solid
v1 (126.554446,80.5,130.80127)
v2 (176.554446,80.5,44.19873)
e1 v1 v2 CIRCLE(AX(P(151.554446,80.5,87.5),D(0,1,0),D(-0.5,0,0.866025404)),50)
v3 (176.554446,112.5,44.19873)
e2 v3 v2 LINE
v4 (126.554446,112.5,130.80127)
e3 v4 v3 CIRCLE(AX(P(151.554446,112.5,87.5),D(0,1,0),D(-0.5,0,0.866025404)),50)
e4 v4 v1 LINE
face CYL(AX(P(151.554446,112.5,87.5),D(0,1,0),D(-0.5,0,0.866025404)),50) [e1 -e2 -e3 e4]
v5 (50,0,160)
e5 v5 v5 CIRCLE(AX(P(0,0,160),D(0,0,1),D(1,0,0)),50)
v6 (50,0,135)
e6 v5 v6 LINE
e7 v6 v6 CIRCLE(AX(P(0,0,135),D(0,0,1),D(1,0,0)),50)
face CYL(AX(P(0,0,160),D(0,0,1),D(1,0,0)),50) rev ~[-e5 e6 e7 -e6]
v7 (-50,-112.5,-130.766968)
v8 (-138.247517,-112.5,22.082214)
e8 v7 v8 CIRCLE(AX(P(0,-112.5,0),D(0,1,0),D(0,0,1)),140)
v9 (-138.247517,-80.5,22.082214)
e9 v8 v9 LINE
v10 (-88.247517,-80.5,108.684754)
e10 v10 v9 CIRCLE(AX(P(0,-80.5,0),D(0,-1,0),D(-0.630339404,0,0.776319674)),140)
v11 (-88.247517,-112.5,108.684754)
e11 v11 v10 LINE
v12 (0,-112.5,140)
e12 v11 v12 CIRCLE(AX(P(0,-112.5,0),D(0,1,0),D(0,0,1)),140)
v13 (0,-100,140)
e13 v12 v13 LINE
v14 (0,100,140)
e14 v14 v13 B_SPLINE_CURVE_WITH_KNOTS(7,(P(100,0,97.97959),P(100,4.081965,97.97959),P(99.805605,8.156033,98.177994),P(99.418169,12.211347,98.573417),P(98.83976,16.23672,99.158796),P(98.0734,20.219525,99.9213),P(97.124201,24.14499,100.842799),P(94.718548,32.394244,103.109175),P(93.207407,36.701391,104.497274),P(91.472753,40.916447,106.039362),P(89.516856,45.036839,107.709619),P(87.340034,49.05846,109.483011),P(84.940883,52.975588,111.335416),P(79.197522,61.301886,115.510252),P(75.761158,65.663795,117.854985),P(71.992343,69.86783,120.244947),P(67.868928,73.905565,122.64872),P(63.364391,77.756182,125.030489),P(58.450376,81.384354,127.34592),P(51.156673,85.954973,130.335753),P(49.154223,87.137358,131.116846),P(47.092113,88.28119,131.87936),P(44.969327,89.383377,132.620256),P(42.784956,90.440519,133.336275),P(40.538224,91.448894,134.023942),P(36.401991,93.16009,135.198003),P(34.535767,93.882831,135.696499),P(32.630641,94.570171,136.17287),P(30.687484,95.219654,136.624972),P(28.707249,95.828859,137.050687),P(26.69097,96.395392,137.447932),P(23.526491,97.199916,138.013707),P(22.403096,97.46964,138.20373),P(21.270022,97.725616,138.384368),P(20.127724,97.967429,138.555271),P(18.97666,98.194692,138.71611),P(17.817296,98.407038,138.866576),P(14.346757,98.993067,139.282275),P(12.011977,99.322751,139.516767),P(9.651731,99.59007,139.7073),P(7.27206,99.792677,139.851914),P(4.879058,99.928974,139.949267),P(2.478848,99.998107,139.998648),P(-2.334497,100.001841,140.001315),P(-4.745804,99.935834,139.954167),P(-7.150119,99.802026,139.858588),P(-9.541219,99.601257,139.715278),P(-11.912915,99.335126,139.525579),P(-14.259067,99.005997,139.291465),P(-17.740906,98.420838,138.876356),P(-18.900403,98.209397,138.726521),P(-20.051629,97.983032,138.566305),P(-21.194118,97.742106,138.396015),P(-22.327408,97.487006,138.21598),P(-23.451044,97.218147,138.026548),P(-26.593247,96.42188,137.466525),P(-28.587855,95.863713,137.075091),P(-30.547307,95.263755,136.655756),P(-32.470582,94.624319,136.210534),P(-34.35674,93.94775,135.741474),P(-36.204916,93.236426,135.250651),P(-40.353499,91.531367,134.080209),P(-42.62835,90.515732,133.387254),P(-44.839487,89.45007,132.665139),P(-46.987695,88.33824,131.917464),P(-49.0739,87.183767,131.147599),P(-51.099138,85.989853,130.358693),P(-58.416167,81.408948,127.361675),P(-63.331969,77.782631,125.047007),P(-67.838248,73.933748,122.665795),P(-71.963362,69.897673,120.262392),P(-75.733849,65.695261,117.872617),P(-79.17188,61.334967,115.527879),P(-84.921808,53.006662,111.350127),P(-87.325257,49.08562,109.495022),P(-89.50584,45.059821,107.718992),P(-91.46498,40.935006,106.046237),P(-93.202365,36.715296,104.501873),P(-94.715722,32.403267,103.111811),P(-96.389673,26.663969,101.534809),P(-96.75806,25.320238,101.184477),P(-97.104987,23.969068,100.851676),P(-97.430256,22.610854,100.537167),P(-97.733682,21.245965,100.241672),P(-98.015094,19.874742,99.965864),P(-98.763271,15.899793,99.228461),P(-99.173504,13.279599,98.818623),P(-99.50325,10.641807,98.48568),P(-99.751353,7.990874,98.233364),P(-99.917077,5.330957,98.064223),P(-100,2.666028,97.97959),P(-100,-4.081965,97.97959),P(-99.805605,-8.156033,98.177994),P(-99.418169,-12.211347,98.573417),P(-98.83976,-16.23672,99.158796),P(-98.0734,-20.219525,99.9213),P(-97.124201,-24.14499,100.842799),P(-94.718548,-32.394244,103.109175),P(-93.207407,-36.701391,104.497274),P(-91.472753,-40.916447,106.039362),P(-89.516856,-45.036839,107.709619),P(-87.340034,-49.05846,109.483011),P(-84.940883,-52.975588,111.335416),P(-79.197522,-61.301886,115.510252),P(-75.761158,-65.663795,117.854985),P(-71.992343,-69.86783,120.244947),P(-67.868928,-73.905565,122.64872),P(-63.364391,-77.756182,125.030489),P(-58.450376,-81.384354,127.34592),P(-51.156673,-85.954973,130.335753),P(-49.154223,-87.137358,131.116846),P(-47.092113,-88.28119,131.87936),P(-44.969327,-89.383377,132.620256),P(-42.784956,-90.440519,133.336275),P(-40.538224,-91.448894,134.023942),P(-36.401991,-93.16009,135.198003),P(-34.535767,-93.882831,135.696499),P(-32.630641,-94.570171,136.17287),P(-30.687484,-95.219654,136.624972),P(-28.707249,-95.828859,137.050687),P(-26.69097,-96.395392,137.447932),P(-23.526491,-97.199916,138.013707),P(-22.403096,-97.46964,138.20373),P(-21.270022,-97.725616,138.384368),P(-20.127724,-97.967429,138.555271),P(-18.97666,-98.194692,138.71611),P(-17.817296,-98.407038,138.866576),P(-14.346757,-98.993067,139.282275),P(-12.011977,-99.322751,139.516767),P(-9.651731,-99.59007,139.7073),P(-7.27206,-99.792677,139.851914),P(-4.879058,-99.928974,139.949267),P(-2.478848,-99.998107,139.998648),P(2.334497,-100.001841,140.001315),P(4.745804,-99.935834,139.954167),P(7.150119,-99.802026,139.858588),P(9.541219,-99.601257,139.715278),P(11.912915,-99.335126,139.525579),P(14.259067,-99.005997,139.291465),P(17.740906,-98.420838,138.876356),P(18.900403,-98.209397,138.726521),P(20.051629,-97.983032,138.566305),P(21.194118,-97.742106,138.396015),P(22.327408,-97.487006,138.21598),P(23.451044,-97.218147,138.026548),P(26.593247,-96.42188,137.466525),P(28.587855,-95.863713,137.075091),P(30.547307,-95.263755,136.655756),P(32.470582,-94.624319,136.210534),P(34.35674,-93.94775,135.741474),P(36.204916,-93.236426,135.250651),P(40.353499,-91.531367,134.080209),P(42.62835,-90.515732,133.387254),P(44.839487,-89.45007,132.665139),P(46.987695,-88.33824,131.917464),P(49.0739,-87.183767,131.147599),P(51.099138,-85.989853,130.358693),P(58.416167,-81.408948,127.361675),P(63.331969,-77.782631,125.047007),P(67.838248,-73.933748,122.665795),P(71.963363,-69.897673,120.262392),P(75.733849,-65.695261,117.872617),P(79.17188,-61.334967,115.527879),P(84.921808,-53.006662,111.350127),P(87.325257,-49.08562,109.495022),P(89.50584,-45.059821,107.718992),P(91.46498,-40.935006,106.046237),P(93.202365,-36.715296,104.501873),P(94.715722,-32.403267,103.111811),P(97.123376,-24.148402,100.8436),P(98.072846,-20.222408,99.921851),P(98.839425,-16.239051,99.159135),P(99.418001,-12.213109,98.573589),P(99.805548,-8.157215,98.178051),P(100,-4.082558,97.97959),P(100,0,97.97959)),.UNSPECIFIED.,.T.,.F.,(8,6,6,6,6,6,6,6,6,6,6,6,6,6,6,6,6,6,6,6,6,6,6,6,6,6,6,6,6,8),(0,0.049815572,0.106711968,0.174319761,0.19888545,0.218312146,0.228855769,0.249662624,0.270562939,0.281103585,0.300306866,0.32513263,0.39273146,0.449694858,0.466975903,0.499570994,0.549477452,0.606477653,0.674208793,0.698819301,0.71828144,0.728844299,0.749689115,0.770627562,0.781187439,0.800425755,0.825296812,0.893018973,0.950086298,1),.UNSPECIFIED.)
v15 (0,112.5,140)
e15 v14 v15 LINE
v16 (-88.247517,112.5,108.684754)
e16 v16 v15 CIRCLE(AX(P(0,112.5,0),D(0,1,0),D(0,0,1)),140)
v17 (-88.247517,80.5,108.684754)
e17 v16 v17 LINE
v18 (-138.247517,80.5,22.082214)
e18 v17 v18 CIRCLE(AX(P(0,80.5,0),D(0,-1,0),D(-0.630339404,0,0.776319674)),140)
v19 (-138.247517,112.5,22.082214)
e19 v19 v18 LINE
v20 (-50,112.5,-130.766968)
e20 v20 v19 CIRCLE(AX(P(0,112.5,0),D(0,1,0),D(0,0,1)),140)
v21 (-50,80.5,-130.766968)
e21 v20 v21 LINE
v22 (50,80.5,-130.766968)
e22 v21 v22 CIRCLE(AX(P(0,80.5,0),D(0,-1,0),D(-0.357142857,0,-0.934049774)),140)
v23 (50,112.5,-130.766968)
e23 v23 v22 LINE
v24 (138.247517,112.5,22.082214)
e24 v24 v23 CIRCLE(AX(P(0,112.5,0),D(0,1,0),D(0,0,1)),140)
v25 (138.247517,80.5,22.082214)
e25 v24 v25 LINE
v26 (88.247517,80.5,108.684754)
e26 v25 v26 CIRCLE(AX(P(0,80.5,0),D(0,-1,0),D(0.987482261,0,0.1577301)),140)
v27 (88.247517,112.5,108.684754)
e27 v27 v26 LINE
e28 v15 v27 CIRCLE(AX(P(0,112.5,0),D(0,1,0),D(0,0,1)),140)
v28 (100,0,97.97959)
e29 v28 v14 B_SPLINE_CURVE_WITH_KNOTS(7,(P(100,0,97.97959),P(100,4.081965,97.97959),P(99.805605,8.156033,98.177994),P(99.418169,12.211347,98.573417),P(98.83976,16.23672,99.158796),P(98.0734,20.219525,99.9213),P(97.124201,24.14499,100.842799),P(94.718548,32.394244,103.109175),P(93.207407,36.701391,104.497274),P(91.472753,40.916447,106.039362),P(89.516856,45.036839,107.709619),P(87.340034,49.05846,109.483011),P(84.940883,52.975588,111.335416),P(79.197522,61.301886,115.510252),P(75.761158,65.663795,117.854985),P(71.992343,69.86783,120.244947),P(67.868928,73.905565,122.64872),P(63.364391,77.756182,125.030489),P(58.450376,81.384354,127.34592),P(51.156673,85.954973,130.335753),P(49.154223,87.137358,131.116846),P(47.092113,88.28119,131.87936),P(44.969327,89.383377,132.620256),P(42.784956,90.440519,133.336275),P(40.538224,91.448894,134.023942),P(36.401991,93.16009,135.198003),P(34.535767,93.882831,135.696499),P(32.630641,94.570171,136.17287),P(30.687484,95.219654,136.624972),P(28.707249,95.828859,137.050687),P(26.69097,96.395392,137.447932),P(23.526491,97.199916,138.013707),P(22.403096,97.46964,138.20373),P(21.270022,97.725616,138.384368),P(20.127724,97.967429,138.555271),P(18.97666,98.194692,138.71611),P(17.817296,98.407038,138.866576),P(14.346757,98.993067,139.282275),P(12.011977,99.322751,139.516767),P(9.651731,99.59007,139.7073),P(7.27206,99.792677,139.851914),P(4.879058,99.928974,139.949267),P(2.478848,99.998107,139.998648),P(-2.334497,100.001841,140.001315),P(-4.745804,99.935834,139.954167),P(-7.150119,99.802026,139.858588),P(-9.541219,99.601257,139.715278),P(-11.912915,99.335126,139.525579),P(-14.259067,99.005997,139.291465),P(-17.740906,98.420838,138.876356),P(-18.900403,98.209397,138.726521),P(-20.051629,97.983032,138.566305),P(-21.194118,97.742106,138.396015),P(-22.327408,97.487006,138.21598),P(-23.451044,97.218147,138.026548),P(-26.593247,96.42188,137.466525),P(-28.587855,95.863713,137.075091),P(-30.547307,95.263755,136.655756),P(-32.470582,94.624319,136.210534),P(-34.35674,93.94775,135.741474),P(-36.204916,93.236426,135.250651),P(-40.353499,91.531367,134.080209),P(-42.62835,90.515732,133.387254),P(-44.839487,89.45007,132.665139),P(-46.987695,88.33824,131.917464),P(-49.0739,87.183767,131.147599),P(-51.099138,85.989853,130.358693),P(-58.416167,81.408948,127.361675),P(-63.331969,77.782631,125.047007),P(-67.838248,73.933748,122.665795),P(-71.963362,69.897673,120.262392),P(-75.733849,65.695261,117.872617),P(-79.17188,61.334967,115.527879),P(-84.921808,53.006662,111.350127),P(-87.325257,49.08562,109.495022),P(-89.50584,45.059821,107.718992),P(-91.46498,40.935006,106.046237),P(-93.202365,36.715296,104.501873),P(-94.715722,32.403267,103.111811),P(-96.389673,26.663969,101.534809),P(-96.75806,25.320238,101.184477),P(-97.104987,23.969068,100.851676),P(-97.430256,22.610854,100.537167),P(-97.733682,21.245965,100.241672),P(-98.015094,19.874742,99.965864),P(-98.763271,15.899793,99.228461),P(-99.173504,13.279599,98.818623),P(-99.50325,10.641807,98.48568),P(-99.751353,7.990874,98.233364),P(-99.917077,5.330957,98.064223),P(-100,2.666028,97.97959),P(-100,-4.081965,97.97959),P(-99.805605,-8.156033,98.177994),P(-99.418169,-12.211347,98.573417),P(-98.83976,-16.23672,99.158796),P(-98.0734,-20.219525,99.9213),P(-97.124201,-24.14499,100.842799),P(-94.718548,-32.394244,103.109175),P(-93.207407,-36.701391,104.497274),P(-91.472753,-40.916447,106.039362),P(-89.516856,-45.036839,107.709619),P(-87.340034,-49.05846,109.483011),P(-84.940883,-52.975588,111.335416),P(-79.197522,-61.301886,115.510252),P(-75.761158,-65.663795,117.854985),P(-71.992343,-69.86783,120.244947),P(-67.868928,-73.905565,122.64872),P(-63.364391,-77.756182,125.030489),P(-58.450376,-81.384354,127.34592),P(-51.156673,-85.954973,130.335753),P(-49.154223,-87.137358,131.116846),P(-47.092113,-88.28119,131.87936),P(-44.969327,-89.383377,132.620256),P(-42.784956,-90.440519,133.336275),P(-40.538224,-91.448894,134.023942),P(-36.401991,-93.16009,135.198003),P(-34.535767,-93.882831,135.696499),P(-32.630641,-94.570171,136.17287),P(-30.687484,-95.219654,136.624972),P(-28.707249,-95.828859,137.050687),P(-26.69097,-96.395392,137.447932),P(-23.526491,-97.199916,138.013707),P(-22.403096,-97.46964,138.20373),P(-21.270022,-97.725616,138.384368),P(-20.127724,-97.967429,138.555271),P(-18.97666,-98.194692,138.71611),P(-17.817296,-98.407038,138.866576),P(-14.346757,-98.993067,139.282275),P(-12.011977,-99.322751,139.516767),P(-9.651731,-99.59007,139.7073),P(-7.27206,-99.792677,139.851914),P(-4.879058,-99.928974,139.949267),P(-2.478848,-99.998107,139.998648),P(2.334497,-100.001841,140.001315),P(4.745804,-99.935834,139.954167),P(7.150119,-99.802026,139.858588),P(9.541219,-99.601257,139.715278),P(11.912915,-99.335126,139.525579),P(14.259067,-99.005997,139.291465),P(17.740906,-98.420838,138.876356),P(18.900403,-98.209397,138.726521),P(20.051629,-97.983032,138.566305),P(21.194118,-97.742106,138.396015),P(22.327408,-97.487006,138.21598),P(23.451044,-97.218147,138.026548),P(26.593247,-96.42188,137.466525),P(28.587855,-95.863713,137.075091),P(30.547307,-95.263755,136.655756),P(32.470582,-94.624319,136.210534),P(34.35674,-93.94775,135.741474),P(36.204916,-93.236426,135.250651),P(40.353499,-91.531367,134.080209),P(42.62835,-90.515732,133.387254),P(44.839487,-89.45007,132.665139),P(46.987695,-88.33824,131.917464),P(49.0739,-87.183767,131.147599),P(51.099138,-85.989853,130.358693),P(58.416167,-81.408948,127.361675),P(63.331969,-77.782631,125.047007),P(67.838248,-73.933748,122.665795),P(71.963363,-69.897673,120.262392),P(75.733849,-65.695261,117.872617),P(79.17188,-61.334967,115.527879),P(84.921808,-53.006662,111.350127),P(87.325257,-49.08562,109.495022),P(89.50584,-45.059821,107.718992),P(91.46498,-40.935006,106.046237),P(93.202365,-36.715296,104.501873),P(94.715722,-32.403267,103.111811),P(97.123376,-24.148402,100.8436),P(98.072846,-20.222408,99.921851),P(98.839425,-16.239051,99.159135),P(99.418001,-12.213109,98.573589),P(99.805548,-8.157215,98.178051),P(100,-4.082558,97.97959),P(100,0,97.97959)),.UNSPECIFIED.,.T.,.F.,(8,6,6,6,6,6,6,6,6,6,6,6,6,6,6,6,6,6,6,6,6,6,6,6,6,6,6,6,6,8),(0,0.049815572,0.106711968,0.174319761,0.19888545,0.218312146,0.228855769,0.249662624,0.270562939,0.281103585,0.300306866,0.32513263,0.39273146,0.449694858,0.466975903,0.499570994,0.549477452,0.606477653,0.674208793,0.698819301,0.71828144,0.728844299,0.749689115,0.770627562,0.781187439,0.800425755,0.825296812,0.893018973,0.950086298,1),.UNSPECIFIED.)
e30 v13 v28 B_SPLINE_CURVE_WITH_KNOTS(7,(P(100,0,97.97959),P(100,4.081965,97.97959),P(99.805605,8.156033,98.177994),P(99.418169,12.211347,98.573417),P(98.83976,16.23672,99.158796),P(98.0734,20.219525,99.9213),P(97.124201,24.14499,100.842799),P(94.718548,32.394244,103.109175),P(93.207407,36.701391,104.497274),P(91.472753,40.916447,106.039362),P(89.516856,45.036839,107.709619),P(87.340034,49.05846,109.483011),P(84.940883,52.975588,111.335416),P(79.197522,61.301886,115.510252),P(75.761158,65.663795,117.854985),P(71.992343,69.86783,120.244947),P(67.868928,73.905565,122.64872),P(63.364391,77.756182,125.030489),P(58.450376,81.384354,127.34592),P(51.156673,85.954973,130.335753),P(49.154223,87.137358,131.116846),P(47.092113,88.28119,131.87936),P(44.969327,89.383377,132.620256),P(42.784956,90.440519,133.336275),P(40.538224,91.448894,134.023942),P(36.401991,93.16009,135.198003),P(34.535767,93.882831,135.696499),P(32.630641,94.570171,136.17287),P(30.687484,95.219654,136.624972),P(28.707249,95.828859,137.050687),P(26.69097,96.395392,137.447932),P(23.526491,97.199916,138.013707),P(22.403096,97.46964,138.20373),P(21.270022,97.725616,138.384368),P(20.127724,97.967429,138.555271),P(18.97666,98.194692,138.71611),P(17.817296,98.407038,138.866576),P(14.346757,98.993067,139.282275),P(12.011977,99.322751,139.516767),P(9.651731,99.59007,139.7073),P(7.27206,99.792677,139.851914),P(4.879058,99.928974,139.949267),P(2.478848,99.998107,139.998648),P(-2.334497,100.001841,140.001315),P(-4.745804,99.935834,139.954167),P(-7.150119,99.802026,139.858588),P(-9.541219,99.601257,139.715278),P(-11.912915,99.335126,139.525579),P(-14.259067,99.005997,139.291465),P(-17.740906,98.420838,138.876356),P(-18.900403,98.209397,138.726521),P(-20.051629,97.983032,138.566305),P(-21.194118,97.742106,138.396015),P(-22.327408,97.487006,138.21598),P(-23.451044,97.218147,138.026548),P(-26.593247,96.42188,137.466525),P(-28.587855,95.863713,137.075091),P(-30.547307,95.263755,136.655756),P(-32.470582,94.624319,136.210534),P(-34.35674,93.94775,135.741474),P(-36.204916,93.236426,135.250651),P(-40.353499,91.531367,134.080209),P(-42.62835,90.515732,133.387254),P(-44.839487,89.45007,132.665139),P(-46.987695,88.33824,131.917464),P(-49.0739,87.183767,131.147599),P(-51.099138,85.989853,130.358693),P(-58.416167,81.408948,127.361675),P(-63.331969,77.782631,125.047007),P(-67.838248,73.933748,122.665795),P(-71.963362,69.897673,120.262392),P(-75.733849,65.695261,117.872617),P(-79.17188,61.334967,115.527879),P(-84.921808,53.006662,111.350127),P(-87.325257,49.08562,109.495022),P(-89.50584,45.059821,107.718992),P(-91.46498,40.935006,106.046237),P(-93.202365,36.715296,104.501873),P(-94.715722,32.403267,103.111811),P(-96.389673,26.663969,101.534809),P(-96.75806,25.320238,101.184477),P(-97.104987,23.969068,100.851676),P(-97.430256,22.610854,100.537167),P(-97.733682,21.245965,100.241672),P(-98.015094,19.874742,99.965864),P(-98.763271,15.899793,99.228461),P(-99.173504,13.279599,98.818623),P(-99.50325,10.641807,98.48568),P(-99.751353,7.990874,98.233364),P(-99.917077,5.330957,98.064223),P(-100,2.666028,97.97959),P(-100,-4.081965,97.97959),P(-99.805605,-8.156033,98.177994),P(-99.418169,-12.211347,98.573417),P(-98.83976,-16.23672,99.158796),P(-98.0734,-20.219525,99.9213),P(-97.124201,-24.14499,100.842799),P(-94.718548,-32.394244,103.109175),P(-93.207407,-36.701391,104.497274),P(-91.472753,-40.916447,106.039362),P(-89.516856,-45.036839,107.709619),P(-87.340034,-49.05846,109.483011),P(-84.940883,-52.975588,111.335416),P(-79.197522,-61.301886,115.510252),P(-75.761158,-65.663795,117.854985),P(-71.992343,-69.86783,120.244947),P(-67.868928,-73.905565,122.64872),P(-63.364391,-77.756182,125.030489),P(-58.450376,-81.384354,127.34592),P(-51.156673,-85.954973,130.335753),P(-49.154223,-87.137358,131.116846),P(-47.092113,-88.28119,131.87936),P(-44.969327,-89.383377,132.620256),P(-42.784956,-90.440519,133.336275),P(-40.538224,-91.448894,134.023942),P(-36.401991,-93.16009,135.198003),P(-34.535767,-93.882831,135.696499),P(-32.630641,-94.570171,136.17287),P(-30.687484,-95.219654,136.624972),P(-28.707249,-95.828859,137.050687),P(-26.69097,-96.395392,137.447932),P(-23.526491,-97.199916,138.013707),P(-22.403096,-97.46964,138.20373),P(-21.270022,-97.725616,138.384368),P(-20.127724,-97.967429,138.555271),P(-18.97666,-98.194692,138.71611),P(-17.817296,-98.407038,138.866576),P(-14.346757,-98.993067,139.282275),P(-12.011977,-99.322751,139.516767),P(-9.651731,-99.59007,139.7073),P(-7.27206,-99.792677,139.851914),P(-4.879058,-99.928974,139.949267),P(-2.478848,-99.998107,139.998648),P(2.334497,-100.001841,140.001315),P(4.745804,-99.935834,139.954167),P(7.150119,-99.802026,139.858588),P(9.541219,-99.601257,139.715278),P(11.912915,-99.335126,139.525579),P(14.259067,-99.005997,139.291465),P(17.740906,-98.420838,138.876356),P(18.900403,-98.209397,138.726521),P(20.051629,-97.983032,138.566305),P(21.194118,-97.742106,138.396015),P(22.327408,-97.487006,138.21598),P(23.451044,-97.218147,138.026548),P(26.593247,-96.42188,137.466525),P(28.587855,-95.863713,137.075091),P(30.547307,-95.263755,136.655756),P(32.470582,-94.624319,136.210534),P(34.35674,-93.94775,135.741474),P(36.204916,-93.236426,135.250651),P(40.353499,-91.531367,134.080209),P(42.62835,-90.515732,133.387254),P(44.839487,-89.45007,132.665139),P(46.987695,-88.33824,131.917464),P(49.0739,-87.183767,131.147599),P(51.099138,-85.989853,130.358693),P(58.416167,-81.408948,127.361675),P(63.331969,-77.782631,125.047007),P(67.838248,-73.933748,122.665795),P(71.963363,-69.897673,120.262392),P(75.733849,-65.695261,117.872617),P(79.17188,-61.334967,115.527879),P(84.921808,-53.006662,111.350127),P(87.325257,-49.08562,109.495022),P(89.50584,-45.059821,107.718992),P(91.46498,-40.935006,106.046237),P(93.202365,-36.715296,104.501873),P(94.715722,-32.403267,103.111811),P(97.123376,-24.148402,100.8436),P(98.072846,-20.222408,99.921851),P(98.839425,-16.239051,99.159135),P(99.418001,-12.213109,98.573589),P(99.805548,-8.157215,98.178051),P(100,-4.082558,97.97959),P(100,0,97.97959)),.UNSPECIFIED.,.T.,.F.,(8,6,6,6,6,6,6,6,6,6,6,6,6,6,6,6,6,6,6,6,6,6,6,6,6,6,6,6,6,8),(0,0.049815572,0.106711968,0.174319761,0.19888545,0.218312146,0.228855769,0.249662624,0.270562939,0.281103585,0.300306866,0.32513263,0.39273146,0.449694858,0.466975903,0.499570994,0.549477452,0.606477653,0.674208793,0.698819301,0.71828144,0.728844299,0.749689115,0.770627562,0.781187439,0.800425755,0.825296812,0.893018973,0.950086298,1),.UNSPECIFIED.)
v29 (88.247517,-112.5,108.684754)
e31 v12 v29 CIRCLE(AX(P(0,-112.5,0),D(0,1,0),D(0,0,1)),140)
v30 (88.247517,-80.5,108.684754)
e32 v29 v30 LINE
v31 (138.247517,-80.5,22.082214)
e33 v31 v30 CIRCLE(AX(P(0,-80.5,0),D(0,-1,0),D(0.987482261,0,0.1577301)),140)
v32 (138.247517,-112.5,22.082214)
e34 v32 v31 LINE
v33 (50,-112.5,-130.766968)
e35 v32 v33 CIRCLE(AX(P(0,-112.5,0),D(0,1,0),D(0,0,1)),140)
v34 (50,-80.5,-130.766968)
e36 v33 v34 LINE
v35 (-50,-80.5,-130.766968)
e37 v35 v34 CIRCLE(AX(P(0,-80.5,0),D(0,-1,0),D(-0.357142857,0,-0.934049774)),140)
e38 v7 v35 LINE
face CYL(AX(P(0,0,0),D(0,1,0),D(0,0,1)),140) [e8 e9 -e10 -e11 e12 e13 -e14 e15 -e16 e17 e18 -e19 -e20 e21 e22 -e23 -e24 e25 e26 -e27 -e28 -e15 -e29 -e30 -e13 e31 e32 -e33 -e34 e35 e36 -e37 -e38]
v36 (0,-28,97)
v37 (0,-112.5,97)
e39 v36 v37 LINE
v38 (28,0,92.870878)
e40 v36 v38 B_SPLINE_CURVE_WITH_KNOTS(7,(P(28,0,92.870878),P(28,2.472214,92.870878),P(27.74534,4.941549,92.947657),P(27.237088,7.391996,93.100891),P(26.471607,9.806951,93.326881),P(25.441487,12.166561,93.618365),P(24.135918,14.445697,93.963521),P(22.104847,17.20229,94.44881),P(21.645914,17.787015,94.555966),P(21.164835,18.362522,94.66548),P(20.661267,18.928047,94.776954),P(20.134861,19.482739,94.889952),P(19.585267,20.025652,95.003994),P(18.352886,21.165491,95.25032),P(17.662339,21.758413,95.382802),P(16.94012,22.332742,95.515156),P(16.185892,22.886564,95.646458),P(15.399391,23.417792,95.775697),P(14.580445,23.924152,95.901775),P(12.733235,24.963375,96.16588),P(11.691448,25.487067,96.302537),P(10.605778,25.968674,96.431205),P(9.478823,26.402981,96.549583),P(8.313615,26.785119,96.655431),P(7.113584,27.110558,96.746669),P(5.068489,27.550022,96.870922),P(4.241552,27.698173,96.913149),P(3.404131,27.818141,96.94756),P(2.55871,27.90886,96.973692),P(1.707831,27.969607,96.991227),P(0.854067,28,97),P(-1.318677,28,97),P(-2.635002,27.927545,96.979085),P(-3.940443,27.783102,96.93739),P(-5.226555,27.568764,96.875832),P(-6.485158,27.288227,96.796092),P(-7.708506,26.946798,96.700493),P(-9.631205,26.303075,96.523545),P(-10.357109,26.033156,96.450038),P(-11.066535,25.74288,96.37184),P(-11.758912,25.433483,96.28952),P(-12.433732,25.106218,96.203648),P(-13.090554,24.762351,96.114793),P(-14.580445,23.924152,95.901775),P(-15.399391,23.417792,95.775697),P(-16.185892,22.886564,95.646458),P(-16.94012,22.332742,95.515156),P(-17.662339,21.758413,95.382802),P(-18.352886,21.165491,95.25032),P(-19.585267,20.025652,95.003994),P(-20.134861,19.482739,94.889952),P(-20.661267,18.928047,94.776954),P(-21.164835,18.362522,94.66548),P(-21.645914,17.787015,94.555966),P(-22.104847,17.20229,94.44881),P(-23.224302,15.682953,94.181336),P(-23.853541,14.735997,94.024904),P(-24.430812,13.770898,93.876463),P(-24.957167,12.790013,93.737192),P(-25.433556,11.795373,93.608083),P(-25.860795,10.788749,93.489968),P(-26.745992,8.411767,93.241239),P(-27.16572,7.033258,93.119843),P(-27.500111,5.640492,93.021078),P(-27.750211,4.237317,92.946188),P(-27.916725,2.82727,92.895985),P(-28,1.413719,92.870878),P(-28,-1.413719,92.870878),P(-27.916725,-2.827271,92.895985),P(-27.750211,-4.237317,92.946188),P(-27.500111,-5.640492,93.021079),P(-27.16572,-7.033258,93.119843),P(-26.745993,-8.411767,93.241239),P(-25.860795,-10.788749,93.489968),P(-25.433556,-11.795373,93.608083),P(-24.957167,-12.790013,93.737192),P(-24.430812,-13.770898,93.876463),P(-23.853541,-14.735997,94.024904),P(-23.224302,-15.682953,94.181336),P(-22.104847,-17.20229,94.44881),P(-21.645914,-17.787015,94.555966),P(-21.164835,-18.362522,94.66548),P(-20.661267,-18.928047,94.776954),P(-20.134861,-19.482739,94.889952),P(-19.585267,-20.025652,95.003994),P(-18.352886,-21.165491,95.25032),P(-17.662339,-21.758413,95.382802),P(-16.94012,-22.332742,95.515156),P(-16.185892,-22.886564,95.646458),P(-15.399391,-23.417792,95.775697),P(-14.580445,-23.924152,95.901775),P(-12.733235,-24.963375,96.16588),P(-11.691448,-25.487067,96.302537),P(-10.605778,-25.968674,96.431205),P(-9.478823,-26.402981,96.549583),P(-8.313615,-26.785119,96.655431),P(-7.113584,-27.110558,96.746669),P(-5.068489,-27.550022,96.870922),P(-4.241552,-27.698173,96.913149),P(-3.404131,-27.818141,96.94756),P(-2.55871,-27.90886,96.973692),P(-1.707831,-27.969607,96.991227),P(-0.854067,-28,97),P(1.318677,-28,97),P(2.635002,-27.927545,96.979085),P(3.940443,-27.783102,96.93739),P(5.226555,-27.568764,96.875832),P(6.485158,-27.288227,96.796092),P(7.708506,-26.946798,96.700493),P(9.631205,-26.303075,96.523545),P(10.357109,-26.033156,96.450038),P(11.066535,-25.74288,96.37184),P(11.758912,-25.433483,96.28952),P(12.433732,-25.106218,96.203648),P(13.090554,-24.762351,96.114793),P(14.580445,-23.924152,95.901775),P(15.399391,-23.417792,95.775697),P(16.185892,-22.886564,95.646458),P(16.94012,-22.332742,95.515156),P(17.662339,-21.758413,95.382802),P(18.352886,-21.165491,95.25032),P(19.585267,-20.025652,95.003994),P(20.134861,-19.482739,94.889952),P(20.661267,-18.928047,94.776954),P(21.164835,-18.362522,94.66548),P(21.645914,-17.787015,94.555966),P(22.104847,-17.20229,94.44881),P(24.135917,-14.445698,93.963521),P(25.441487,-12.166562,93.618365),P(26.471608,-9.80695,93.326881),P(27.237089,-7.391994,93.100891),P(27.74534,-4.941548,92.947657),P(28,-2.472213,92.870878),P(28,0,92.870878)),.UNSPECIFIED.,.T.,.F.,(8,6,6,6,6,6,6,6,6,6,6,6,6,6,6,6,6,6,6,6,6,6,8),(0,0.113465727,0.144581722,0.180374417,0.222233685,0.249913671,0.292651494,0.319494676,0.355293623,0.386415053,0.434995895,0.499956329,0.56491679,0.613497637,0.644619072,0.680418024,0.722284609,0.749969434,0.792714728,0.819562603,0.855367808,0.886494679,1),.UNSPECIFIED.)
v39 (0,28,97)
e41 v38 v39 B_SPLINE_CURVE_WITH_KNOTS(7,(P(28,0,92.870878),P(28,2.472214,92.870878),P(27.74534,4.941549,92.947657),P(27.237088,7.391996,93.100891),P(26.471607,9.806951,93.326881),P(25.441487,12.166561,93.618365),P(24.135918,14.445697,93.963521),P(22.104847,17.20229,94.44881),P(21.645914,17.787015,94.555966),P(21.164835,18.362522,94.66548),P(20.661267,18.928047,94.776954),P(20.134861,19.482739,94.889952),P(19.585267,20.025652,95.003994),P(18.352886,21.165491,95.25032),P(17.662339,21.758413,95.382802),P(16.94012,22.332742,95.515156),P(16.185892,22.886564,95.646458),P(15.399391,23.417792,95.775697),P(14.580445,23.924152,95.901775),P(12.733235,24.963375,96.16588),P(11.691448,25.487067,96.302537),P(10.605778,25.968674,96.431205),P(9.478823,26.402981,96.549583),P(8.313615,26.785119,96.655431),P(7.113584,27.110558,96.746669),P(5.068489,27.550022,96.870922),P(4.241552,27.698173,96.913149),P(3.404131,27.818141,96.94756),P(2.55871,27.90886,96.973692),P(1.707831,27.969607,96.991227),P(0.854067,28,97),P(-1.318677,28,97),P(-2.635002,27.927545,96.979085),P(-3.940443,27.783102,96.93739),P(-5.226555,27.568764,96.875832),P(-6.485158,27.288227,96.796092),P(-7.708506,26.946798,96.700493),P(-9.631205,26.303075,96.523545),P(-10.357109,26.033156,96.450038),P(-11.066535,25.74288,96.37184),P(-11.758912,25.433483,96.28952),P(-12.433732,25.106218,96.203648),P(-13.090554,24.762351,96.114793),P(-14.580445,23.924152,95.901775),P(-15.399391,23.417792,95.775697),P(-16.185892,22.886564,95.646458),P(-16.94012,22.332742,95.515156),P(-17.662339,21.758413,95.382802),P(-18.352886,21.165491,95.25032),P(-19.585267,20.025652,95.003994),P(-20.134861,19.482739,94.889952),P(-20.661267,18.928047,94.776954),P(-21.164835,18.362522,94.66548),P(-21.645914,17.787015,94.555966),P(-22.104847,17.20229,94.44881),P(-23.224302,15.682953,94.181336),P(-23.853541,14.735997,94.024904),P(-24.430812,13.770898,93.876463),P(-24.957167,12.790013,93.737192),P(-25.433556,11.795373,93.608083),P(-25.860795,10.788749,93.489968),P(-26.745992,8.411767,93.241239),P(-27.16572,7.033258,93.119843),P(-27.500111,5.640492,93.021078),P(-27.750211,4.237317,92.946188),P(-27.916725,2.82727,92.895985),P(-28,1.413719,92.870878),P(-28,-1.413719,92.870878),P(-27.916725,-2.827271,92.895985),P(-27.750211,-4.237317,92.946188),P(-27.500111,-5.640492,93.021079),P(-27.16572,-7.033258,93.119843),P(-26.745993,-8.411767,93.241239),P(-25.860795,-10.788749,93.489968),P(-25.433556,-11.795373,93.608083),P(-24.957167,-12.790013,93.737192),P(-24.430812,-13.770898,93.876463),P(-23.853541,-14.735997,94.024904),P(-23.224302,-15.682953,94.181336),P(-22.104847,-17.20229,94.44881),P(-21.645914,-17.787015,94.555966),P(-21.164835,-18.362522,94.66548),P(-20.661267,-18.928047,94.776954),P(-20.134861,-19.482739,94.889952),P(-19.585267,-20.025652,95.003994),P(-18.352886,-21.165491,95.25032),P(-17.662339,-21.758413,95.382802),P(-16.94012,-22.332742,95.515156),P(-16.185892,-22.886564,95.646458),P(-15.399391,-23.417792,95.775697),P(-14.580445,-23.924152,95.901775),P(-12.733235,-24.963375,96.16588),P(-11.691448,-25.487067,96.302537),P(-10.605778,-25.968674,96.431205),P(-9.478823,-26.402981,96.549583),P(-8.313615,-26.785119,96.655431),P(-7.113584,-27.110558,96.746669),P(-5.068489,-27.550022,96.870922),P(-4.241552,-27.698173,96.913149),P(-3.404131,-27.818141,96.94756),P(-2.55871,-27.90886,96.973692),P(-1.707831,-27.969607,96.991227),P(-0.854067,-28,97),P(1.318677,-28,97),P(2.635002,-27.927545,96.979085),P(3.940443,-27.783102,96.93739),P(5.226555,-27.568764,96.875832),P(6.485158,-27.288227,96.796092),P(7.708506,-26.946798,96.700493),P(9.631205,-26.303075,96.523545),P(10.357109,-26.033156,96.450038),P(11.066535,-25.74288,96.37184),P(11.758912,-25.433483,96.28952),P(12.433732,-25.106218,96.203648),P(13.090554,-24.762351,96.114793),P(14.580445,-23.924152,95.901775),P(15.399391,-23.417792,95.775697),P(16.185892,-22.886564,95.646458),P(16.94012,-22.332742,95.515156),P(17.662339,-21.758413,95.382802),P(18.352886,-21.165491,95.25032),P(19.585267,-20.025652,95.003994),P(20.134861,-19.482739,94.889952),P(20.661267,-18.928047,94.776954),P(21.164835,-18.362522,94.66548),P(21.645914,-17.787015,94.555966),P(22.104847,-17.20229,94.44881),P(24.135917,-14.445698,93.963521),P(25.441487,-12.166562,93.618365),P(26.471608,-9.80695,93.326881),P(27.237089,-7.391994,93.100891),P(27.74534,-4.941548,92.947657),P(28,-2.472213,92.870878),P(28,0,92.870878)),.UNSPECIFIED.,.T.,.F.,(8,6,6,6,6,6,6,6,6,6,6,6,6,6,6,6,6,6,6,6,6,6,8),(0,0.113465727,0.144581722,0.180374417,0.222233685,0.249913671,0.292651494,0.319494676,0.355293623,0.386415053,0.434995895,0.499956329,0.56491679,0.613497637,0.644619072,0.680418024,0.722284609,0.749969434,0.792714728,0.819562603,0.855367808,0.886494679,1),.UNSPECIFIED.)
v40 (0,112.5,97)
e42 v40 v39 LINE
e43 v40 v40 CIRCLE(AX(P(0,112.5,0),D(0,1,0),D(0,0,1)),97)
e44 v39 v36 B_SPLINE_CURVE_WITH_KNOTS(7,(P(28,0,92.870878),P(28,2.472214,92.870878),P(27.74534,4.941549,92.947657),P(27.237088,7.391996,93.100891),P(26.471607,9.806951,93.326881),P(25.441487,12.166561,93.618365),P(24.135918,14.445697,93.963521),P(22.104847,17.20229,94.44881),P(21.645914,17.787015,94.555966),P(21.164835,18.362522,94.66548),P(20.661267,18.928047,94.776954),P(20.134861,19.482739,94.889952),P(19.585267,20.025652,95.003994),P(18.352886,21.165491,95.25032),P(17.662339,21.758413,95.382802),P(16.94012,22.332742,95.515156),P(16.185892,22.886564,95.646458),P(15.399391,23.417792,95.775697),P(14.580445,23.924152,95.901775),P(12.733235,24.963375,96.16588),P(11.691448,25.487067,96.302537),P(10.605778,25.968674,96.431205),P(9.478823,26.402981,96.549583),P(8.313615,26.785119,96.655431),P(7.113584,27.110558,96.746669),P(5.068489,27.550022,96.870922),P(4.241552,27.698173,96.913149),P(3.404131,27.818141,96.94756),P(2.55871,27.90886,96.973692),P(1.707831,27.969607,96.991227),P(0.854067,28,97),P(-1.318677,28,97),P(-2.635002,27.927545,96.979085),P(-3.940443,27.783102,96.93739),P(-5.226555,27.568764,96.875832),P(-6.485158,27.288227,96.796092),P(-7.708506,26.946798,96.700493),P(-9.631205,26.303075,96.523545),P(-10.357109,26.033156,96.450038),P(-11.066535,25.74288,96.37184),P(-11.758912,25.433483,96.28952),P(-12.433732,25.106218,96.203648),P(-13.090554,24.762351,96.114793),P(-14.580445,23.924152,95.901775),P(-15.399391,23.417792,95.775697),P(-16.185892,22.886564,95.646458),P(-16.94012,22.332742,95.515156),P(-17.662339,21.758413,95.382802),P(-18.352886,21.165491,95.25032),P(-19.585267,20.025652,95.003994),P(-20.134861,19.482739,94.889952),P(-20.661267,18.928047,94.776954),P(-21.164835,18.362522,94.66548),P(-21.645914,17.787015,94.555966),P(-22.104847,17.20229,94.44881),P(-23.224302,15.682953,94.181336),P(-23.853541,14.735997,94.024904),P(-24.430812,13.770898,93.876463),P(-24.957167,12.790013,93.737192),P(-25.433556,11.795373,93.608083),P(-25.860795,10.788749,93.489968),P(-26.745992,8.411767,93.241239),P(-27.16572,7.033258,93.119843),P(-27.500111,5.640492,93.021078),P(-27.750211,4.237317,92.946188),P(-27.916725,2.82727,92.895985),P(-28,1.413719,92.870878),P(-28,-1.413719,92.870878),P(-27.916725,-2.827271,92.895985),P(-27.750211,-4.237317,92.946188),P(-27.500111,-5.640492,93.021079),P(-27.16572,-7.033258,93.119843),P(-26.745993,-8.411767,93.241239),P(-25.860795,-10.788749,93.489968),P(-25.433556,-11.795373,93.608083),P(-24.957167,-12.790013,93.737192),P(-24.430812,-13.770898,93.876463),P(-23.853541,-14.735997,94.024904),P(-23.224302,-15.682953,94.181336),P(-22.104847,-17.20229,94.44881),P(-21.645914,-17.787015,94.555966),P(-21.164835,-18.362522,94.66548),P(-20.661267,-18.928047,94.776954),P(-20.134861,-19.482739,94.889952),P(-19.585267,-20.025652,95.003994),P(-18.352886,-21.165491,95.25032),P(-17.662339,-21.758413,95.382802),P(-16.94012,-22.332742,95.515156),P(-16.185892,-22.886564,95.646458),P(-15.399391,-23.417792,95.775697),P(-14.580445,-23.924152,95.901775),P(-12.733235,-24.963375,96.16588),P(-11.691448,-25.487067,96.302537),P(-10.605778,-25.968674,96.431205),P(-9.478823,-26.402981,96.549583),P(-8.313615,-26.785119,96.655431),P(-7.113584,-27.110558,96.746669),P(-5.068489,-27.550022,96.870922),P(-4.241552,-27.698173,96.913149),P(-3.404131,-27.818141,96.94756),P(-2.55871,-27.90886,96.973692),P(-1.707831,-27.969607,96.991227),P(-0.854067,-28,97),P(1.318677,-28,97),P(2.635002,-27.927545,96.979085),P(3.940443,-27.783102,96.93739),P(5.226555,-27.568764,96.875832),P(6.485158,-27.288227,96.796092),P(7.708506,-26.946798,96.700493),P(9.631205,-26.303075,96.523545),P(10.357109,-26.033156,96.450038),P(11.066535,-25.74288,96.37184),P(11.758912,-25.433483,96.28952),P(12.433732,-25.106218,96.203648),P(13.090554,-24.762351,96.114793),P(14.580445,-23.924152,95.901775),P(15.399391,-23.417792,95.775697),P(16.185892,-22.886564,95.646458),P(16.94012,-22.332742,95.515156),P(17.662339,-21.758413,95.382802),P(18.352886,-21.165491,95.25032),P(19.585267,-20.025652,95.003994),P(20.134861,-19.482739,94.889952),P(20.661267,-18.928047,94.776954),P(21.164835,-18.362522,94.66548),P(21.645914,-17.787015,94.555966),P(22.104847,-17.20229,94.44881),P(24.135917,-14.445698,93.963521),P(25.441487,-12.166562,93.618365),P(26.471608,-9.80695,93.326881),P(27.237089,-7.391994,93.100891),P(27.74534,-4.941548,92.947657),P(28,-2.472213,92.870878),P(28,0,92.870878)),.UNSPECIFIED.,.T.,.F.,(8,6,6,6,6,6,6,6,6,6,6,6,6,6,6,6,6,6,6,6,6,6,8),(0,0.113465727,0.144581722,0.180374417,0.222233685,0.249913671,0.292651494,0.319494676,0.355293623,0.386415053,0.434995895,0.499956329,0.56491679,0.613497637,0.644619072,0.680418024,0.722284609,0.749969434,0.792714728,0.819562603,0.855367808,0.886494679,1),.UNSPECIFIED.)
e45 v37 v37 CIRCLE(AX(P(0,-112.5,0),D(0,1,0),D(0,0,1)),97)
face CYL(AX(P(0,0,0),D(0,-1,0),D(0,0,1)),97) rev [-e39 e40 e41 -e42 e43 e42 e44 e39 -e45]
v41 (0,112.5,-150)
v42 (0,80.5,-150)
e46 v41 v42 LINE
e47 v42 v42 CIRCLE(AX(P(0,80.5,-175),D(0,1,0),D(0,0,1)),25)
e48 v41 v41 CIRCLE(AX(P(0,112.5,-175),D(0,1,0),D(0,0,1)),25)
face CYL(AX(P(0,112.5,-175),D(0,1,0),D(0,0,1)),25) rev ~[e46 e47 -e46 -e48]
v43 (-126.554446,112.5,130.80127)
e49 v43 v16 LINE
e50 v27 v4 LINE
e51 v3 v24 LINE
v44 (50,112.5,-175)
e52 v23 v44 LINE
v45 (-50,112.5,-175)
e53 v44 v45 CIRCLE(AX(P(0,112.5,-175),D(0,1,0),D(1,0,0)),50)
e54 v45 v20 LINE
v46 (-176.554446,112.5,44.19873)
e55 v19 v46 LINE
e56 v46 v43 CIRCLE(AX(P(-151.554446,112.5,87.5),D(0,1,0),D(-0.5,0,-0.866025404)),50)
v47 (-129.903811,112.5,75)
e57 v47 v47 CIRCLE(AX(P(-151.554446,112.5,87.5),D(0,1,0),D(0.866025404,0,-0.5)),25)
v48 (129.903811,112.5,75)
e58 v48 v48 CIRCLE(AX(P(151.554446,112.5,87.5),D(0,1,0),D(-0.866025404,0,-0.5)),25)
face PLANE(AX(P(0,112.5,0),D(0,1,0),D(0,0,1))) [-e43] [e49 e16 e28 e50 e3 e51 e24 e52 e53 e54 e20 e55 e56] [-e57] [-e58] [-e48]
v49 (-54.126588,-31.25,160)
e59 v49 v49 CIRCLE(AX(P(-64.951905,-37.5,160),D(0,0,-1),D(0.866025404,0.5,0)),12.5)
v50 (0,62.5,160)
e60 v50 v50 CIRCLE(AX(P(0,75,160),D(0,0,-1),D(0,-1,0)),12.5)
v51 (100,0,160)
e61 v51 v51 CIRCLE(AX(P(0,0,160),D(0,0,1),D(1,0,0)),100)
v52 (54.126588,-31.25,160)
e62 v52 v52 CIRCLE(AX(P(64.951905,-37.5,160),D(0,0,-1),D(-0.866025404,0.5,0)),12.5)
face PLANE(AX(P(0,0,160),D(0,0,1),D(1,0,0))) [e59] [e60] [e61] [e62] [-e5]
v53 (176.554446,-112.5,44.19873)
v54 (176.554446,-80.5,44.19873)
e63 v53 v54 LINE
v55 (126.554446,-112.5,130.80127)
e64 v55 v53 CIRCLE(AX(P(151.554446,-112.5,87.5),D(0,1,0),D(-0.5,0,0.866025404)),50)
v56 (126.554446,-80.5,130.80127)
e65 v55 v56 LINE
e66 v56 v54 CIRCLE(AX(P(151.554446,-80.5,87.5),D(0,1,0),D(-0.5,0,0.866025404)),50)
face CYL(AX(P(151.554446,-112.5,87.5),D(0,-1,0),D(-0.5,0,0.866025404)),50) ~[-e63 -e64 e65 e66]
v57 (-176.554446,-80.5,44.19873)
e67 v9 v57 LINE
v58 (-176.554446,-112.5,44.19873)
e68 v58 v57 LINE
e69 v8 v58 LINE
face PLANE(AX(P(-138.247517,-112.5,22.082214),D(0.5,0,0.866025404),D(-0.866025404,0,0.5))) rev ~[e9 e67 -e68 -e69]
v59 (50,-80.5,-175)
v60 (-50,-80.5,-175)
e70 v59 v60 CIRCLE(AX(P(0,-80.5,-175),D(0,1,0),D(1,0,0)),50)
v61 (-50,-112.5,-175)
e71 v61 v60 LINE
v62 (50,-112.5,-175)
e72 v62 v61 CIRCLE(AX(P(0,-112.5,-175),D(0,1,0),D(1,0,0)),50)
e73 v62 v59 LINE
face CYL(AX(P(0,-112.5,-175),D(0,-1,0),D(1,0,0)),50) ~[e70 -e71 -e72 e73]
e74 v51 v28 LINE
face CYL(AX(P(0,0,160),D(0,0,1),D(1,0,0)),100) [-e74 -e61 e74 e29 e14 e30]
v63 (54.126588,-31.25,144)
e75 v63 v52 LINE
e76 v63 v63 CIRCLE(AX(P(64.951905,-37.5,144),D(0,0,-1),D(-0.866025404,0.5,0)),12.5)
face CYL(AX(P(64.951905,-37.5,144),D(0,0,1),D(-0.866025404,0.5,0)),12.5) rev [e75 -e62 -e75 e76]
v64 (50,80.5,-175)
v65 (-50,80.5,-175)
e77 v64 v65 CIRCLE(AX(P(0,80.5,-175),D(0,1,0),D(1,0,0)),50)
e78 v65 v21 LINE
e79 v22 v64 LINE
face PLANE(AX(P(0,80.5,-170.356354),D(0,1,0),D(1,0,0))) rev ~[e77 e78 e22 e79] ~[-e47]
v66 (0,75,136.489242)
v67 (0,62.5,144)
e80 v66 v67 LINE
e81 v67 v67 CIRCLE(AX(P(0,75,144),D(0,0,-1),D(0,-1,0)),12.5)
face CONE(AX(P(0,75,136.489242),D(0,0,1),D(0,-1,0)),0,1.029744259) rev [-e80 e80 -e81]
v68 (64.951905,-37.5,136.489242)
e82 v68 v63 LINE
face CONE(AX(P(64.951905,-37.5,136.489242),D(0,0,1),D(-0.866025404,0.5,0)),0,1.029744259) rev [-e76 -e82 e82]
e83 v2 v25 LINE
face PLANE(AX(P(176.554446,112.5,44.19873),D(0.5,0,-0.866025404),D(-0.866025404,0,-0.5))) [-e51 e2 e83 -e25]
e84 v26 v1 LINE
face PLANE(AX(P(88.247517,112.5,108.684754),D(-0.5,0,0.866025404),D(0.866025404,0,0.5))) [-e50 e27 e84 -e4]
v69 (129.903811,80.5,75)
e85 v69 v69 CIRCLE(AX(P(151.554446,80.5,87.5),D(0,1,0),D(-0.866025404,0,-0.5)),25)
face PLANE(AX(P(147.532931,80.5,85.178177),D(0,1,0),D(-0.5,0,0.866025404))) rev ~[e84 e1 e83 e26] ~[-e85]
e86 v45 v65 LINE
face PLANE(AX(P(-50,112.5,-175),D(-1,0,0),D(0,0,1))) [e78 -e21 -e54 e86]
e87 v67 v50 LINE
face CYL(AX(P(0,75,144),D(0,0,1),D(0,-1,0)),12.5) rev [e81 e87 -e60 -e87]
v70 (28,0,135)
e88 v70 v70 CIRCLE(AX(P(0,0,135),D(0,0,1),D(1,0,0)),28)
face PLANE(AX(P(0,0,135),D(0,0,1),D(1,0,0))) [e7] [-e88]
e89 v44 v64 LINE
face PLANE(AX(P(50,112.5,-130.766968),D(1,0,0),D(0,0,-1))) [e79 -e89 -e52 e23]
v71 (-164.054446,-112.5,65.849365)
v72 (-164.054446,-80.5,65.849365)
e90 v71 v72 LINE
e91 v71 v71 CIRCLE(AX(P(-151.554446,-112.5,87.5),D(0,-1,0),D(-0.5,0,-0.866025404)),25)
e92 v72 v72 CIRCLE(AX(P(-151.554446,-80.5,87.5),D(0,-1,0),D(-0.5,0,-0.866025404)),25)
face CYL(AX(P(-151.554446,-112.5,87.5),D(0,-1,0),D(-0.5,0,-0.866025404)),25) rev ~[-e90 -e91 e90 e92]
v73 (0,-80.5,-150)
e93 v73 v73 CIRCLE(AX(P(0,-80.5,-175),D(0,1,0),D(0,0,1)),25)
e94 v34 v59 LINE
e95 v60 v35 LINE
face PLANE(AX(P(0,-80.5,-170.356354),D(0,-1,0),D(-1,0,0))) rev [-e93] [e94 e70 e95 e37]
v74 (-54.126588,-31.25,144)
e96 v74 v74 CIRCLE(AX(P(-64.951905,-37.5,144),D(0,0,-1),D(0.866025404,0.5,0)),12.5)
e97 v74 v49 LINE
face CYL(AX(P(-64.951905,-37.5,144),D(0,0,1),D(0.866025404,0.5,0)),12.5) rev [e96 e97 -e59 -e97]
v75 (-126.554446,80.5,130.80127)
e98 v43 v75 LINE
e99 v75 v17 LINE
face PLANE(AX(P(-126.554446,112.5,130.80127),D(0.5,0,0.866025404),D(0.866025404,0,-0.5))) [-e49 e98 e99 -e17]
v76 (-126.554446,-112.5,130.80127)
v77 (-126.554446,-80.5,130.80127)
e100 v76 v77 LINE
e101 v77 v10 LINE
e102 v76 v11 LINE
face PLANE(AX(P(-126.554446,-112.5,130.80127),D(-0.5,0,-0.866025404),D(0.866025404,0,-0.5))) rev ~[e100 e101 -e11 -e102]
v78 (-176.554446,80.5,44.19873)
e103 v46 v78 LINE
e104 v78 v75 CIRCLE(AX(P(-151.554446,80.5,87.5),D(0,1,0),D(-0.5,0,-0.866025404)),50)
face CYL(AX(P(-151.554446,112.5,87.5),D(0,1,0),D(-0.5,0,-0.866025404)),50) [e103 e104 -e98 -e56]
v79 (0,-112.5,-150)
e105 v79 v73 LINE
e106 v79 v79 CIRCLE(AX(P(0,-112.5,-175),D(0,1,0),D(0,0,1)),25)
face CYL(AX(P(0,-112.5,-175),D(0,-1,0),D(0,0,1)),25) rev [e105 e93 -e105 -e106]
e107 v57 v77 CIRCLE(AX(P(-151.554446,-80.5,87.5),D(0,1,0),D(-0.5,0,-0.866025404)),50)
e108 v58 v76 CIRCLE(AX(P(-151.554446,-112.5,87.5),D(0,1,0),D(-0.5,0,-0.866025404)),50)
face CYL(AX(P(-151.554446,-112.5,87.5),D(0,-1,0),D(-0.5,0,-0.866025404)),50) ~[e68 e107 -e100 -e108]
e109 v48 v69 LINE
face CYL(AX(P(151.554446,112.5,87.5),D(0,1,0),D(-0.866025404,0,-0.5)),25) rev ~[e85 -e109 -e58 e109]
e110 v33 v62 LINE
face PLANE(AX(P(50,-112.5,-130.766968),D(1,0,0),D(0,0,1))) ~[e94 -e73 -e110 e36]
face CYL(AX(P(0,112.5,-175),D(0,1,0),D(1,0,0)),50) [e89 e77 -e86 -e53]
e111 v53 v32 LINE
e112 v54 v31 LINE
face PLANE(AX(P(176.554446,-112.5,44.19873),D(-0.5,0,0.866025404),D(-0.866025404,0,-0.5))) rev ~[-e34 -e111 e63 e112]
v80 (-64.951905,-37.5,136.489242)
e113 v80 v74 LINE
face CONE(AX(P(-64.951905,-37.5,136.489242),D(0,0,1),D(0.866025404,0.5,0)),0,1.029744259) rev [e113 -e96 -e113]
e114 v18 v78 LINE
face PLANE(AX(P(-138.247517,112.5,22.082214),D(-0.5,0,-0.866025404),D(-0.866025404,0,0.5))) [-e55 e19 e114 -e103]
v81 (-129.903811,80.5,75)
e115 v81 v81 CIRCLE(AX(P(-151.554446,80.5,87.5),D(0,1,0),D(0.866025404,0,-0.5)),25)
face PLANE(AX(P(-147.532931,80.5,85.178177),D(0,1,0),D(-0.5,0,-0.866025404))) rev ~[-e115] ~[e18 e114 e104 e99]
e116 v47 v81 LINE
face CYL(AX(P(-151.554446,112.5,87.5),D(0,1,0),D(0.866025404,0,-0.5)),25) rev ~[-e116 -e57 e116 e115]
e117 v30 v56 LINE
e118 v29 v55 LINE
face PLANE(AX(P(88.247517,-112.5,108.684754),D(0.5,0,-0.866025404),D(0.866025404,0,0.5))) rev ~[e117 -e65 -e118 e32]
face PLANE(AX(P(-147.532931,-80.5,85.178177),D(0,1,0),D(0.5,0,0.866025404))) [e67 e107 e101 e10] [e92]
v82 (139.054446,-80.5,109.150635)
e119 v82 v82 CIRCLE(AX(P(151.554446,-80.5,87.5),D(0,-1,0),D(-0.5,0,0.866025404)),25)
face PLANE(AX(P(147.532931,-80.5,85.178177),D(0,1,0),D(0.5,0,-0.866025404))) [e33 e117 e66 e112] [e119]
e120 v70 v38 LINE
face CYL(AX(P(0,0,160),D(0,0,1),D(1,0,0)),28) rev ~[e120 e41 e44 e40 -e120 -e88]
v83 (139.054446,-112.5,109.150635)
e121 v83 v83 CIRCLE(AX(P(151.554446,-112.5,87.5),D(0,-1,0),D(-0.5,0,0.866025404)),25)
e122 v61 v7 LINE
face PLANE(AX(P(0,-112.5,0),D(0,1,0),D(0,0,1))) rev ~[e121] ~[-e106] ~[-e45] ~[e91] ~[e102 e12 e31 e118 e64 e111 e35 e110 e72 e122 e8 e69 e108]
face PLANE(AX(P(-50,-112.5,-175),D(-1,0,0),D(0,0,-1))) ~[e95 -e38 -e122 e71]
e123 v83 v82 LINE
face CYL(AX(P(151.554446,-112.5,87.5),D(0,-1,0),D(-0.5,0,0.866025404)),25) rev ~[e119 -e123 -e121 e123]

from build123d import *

# Parameters (mm, degrees)
SKETCH1_R                = 140
SKETCH1_R_2              = 97
BOSS_EXTRUDE1_DEPTH      = 112.5
SKETCH2_R                = 25
BOSS_EXTRUDE2_DEPTH      = 32
CIRPATTERN1_COUNT        = 3
MIRROR1_COPY_1_SKETCH_R  = 25
MIRROR1_COPY_1_DEPTH     = 32
MIRROR1_COPY_2_SKETCH_R  = 25
MIRROR1_COPY_2_DEPTH     = 32
BOSS_EXTRUDE3_REACH      = 387
BOSS_EXTRUDE3_END_RADIUS = 140
SKETCH3_R                = 100
CUT_EXTRUDE1_REACH       = 387
CUT_EXTRUDE1_END_RADIUS  = 97
SKETCH4_R                = 28
SKETCH5_R                = 50
CUT_EXTRUDE2_DEPTH       = 25
CIRPATTERN2_COUNT        = 3


with BuildPart() as part:
    # Sketch1 → Boss-Extrude1 (new body, symmetric)
    with BuildSketch(Plane(origin=(0, 0, 0), x_dir=(1, 0, 0), z_dir=(0, 1, 0))):
        with Locations(Location((0, 0, 0), (0, 0, 270))):  # turned: the seam where the file's is
            Circle(SKETCH1_R)
        with Locations(Location((0, 0, 0), (0, 0, 270))):  # turned: the seam where the file's is
            Circle(SKETCH1_R_2, mode=Mode.SUBTRACT)
    extrude(amount=BOSS_EXTRUDE1_DEPTH, both=True)

    # Sketch2 → Boss-Extrude2 (add)
    with BuildSketch(Plane(origin=(0, 112.5, 0), x_dir=(1, 0, 0), z_dir=(0, 1, 0))):
        with BuildLine():
            Line((-50, 175), (-50, 130.766968306))
            ThreePointArc((-50, 130.766968306), (0, 140), (50, 130.766968306))
            Line((50, 130.766968306), (50, 175))
            ThreePointArc((50, 175), (0, 225), (-50, 175))
        make_face()
        with Locations(Location((0, 175, 0), (0, 0, 270))):  # turned: the seam where the file's is
            Circle(SKETCH2_R, mode=Mode.SUBTRACT)
    boss_extrude2 = extrude(amount=-BOSS_EXTRUDE2_DEPTH)

    # CirPattern1: Boss-Extrude2 ×3 about axis
    cirpattern1_axis = Axis((0, 0, 0), (0, 1, 0))
    for i in range(1, CIRPATTERN1_COUNT):
        add(boss_extrude2.rotate(cirpattern1_axis, i * 360 / CIRPATTERN1_COUNT))

    # Mirror1: Boss-Extrude2 across plane
    add(boss_extrude2.mirror(Plane.ZX))

    # Mirror1 copy 1 sketch → Mirror1 copy 1 (add)
    with BuildSketch(Plane(origin=(0, -112.5, 0), x_dir=(-0.5, 0, -0.866025404), z_dir=(0, -1, 0))):
        with BuildLine():
            Line((-50, -175), (-50, -130.766968306))
            ThreePointArc((-50, -130.766968306), (0, -140), (50, -130.766968306))
            Line((50, -130.766968306), (50, -175))
            ThreePointArc((50, -175), (0, -225), (-50, -175))
        make_face()
        with Locations((0, -175)):
            Circle(MIRROR1_COPY_1_SKETCH_R, mode=Mode.SUBTRACT)
    extrude(amount=-MIRROR1_COPY_1_DEPTH)

    # Mirror1 copy 2 sketch → Mirror1 copy 2 (add)
    with BuildSketch(Plane(origin=(0, -112.5, 0), x_dir=(-0.5, 0, 0.866025404), z_dir=(0, -1, 0))):
        with BuildLine():
            Line((-50, -175), (-50, -130.766968306))
            ThreePointArc((-50, -130.766968306), (0, -140), (50, -130.766968306))
            Line((50, -130.766968306), (50, -175))
            ThreePointArc((50, -175), (0, -225), (-50, -175))
        make_face()
        with Locations((0, -175)):
            Circle(MIRROR1_COPY_2_SKETCH_R, mode=Mode.SUBTRACT)
    extrude(amount=-MIRROR1_COPY_2_DEPTH)

    # Boss-Extrude3: up to this cylinder (the profile starts outside it)
    boss_extrude3_end = Plane(origin=(0, 0, 0), z_dir=(0, -1, 0)) * Cylinder(BOSS_EXTRUDE3_END_RADIUS, 1055, mode=Mode.PRIVATE)
    # Sketch3 → Boss-Extrude3 (add, up to the surface)
    with BuildSketch(Plane.XY.offset(160), mode=Mode.PRIVATE) as boss_extrude3_sk1:
        Circle(SKETCH3_R)
    boss_extrude3_tool1 = extrude(boss_extrude3_sk1.sketch, amount=-BOSS_EXTRUDE3_REACH, mode=Mode.PRIVATE) - boss_extrude3_end
    add(boss_extrude3_tool1.solids().sort_by_distance((0, 0, 160))[0])

    # Cut-Extrude1: up to this cylinder (the profile starts outside it)
    cut_extrude1_end = Plane(origin=(0, 0, 0), z_dir=(0, -1, 0)) * Cylinder(CUT_EXTRUDE1_END_RADIUS, 969, mode=Mode.PRIVATE)
    # Sketch4 → Cut-Extrude1 (cut, up to the surface)
    with BuildSketch(Plane.XY.offset(160), mode=Mode.PRIVATE) as cut_extrude1_sk1:
        Circle(SKETCH4_R)
    cut_extrude1_tool1 = extrude(cut_extrude1_sk1.sketch, amount=-CUT_EXTRUDE1_REACH, mode=Mode.PRIVATE) - cut_extrude1_end
    add(cut_extrude1_tool1.solids().sort_by_distance((0, 0, 160))[0], mode=Mode.SUBTRACT)

    # Sketch5 → Cut-Extrude2 (cut)
    with BuildSketch(Plane.XY.offset(160)):
        Circle(SKETCH5_R)
    extrude(amount=-CUT_EXTRUDE2_DEPTH, mode=Mode.SUBTRACT)

    # Sketch7 → Ø25.0mm Dowel Hole1 (revolve, cut)
    with BuildSketch(Plane(origin=(0, 75, 160), x_dir=(0, -1, 0), z_dir=(1, 0, 0))):
        Polygon((0, 0), (0, 23.510757738), (12.5, 16), (12.5, 0), align=None)
    f_25_0mm_dowel_hole1 = revolve(axis=Axis((0, 75, 166.35), (0, 0, -1)), mode=Mode.SUBTRACT)

    # CirPattern2: Ø25.0mm Dowel Hole1 ×3 about axis
    cirpattern2_axis = Axis((0, 0, 0), (0, 0, 1))
    for i in range(1, CIRPATTERN2_COUNT):
        add(f_25_0mm_dowel_hole1.rotate(cirpattern2_axis, i * 360 / CIRPATTERN2_COUNT), mode=Mode.SUBTRACT)


solid = part.part
